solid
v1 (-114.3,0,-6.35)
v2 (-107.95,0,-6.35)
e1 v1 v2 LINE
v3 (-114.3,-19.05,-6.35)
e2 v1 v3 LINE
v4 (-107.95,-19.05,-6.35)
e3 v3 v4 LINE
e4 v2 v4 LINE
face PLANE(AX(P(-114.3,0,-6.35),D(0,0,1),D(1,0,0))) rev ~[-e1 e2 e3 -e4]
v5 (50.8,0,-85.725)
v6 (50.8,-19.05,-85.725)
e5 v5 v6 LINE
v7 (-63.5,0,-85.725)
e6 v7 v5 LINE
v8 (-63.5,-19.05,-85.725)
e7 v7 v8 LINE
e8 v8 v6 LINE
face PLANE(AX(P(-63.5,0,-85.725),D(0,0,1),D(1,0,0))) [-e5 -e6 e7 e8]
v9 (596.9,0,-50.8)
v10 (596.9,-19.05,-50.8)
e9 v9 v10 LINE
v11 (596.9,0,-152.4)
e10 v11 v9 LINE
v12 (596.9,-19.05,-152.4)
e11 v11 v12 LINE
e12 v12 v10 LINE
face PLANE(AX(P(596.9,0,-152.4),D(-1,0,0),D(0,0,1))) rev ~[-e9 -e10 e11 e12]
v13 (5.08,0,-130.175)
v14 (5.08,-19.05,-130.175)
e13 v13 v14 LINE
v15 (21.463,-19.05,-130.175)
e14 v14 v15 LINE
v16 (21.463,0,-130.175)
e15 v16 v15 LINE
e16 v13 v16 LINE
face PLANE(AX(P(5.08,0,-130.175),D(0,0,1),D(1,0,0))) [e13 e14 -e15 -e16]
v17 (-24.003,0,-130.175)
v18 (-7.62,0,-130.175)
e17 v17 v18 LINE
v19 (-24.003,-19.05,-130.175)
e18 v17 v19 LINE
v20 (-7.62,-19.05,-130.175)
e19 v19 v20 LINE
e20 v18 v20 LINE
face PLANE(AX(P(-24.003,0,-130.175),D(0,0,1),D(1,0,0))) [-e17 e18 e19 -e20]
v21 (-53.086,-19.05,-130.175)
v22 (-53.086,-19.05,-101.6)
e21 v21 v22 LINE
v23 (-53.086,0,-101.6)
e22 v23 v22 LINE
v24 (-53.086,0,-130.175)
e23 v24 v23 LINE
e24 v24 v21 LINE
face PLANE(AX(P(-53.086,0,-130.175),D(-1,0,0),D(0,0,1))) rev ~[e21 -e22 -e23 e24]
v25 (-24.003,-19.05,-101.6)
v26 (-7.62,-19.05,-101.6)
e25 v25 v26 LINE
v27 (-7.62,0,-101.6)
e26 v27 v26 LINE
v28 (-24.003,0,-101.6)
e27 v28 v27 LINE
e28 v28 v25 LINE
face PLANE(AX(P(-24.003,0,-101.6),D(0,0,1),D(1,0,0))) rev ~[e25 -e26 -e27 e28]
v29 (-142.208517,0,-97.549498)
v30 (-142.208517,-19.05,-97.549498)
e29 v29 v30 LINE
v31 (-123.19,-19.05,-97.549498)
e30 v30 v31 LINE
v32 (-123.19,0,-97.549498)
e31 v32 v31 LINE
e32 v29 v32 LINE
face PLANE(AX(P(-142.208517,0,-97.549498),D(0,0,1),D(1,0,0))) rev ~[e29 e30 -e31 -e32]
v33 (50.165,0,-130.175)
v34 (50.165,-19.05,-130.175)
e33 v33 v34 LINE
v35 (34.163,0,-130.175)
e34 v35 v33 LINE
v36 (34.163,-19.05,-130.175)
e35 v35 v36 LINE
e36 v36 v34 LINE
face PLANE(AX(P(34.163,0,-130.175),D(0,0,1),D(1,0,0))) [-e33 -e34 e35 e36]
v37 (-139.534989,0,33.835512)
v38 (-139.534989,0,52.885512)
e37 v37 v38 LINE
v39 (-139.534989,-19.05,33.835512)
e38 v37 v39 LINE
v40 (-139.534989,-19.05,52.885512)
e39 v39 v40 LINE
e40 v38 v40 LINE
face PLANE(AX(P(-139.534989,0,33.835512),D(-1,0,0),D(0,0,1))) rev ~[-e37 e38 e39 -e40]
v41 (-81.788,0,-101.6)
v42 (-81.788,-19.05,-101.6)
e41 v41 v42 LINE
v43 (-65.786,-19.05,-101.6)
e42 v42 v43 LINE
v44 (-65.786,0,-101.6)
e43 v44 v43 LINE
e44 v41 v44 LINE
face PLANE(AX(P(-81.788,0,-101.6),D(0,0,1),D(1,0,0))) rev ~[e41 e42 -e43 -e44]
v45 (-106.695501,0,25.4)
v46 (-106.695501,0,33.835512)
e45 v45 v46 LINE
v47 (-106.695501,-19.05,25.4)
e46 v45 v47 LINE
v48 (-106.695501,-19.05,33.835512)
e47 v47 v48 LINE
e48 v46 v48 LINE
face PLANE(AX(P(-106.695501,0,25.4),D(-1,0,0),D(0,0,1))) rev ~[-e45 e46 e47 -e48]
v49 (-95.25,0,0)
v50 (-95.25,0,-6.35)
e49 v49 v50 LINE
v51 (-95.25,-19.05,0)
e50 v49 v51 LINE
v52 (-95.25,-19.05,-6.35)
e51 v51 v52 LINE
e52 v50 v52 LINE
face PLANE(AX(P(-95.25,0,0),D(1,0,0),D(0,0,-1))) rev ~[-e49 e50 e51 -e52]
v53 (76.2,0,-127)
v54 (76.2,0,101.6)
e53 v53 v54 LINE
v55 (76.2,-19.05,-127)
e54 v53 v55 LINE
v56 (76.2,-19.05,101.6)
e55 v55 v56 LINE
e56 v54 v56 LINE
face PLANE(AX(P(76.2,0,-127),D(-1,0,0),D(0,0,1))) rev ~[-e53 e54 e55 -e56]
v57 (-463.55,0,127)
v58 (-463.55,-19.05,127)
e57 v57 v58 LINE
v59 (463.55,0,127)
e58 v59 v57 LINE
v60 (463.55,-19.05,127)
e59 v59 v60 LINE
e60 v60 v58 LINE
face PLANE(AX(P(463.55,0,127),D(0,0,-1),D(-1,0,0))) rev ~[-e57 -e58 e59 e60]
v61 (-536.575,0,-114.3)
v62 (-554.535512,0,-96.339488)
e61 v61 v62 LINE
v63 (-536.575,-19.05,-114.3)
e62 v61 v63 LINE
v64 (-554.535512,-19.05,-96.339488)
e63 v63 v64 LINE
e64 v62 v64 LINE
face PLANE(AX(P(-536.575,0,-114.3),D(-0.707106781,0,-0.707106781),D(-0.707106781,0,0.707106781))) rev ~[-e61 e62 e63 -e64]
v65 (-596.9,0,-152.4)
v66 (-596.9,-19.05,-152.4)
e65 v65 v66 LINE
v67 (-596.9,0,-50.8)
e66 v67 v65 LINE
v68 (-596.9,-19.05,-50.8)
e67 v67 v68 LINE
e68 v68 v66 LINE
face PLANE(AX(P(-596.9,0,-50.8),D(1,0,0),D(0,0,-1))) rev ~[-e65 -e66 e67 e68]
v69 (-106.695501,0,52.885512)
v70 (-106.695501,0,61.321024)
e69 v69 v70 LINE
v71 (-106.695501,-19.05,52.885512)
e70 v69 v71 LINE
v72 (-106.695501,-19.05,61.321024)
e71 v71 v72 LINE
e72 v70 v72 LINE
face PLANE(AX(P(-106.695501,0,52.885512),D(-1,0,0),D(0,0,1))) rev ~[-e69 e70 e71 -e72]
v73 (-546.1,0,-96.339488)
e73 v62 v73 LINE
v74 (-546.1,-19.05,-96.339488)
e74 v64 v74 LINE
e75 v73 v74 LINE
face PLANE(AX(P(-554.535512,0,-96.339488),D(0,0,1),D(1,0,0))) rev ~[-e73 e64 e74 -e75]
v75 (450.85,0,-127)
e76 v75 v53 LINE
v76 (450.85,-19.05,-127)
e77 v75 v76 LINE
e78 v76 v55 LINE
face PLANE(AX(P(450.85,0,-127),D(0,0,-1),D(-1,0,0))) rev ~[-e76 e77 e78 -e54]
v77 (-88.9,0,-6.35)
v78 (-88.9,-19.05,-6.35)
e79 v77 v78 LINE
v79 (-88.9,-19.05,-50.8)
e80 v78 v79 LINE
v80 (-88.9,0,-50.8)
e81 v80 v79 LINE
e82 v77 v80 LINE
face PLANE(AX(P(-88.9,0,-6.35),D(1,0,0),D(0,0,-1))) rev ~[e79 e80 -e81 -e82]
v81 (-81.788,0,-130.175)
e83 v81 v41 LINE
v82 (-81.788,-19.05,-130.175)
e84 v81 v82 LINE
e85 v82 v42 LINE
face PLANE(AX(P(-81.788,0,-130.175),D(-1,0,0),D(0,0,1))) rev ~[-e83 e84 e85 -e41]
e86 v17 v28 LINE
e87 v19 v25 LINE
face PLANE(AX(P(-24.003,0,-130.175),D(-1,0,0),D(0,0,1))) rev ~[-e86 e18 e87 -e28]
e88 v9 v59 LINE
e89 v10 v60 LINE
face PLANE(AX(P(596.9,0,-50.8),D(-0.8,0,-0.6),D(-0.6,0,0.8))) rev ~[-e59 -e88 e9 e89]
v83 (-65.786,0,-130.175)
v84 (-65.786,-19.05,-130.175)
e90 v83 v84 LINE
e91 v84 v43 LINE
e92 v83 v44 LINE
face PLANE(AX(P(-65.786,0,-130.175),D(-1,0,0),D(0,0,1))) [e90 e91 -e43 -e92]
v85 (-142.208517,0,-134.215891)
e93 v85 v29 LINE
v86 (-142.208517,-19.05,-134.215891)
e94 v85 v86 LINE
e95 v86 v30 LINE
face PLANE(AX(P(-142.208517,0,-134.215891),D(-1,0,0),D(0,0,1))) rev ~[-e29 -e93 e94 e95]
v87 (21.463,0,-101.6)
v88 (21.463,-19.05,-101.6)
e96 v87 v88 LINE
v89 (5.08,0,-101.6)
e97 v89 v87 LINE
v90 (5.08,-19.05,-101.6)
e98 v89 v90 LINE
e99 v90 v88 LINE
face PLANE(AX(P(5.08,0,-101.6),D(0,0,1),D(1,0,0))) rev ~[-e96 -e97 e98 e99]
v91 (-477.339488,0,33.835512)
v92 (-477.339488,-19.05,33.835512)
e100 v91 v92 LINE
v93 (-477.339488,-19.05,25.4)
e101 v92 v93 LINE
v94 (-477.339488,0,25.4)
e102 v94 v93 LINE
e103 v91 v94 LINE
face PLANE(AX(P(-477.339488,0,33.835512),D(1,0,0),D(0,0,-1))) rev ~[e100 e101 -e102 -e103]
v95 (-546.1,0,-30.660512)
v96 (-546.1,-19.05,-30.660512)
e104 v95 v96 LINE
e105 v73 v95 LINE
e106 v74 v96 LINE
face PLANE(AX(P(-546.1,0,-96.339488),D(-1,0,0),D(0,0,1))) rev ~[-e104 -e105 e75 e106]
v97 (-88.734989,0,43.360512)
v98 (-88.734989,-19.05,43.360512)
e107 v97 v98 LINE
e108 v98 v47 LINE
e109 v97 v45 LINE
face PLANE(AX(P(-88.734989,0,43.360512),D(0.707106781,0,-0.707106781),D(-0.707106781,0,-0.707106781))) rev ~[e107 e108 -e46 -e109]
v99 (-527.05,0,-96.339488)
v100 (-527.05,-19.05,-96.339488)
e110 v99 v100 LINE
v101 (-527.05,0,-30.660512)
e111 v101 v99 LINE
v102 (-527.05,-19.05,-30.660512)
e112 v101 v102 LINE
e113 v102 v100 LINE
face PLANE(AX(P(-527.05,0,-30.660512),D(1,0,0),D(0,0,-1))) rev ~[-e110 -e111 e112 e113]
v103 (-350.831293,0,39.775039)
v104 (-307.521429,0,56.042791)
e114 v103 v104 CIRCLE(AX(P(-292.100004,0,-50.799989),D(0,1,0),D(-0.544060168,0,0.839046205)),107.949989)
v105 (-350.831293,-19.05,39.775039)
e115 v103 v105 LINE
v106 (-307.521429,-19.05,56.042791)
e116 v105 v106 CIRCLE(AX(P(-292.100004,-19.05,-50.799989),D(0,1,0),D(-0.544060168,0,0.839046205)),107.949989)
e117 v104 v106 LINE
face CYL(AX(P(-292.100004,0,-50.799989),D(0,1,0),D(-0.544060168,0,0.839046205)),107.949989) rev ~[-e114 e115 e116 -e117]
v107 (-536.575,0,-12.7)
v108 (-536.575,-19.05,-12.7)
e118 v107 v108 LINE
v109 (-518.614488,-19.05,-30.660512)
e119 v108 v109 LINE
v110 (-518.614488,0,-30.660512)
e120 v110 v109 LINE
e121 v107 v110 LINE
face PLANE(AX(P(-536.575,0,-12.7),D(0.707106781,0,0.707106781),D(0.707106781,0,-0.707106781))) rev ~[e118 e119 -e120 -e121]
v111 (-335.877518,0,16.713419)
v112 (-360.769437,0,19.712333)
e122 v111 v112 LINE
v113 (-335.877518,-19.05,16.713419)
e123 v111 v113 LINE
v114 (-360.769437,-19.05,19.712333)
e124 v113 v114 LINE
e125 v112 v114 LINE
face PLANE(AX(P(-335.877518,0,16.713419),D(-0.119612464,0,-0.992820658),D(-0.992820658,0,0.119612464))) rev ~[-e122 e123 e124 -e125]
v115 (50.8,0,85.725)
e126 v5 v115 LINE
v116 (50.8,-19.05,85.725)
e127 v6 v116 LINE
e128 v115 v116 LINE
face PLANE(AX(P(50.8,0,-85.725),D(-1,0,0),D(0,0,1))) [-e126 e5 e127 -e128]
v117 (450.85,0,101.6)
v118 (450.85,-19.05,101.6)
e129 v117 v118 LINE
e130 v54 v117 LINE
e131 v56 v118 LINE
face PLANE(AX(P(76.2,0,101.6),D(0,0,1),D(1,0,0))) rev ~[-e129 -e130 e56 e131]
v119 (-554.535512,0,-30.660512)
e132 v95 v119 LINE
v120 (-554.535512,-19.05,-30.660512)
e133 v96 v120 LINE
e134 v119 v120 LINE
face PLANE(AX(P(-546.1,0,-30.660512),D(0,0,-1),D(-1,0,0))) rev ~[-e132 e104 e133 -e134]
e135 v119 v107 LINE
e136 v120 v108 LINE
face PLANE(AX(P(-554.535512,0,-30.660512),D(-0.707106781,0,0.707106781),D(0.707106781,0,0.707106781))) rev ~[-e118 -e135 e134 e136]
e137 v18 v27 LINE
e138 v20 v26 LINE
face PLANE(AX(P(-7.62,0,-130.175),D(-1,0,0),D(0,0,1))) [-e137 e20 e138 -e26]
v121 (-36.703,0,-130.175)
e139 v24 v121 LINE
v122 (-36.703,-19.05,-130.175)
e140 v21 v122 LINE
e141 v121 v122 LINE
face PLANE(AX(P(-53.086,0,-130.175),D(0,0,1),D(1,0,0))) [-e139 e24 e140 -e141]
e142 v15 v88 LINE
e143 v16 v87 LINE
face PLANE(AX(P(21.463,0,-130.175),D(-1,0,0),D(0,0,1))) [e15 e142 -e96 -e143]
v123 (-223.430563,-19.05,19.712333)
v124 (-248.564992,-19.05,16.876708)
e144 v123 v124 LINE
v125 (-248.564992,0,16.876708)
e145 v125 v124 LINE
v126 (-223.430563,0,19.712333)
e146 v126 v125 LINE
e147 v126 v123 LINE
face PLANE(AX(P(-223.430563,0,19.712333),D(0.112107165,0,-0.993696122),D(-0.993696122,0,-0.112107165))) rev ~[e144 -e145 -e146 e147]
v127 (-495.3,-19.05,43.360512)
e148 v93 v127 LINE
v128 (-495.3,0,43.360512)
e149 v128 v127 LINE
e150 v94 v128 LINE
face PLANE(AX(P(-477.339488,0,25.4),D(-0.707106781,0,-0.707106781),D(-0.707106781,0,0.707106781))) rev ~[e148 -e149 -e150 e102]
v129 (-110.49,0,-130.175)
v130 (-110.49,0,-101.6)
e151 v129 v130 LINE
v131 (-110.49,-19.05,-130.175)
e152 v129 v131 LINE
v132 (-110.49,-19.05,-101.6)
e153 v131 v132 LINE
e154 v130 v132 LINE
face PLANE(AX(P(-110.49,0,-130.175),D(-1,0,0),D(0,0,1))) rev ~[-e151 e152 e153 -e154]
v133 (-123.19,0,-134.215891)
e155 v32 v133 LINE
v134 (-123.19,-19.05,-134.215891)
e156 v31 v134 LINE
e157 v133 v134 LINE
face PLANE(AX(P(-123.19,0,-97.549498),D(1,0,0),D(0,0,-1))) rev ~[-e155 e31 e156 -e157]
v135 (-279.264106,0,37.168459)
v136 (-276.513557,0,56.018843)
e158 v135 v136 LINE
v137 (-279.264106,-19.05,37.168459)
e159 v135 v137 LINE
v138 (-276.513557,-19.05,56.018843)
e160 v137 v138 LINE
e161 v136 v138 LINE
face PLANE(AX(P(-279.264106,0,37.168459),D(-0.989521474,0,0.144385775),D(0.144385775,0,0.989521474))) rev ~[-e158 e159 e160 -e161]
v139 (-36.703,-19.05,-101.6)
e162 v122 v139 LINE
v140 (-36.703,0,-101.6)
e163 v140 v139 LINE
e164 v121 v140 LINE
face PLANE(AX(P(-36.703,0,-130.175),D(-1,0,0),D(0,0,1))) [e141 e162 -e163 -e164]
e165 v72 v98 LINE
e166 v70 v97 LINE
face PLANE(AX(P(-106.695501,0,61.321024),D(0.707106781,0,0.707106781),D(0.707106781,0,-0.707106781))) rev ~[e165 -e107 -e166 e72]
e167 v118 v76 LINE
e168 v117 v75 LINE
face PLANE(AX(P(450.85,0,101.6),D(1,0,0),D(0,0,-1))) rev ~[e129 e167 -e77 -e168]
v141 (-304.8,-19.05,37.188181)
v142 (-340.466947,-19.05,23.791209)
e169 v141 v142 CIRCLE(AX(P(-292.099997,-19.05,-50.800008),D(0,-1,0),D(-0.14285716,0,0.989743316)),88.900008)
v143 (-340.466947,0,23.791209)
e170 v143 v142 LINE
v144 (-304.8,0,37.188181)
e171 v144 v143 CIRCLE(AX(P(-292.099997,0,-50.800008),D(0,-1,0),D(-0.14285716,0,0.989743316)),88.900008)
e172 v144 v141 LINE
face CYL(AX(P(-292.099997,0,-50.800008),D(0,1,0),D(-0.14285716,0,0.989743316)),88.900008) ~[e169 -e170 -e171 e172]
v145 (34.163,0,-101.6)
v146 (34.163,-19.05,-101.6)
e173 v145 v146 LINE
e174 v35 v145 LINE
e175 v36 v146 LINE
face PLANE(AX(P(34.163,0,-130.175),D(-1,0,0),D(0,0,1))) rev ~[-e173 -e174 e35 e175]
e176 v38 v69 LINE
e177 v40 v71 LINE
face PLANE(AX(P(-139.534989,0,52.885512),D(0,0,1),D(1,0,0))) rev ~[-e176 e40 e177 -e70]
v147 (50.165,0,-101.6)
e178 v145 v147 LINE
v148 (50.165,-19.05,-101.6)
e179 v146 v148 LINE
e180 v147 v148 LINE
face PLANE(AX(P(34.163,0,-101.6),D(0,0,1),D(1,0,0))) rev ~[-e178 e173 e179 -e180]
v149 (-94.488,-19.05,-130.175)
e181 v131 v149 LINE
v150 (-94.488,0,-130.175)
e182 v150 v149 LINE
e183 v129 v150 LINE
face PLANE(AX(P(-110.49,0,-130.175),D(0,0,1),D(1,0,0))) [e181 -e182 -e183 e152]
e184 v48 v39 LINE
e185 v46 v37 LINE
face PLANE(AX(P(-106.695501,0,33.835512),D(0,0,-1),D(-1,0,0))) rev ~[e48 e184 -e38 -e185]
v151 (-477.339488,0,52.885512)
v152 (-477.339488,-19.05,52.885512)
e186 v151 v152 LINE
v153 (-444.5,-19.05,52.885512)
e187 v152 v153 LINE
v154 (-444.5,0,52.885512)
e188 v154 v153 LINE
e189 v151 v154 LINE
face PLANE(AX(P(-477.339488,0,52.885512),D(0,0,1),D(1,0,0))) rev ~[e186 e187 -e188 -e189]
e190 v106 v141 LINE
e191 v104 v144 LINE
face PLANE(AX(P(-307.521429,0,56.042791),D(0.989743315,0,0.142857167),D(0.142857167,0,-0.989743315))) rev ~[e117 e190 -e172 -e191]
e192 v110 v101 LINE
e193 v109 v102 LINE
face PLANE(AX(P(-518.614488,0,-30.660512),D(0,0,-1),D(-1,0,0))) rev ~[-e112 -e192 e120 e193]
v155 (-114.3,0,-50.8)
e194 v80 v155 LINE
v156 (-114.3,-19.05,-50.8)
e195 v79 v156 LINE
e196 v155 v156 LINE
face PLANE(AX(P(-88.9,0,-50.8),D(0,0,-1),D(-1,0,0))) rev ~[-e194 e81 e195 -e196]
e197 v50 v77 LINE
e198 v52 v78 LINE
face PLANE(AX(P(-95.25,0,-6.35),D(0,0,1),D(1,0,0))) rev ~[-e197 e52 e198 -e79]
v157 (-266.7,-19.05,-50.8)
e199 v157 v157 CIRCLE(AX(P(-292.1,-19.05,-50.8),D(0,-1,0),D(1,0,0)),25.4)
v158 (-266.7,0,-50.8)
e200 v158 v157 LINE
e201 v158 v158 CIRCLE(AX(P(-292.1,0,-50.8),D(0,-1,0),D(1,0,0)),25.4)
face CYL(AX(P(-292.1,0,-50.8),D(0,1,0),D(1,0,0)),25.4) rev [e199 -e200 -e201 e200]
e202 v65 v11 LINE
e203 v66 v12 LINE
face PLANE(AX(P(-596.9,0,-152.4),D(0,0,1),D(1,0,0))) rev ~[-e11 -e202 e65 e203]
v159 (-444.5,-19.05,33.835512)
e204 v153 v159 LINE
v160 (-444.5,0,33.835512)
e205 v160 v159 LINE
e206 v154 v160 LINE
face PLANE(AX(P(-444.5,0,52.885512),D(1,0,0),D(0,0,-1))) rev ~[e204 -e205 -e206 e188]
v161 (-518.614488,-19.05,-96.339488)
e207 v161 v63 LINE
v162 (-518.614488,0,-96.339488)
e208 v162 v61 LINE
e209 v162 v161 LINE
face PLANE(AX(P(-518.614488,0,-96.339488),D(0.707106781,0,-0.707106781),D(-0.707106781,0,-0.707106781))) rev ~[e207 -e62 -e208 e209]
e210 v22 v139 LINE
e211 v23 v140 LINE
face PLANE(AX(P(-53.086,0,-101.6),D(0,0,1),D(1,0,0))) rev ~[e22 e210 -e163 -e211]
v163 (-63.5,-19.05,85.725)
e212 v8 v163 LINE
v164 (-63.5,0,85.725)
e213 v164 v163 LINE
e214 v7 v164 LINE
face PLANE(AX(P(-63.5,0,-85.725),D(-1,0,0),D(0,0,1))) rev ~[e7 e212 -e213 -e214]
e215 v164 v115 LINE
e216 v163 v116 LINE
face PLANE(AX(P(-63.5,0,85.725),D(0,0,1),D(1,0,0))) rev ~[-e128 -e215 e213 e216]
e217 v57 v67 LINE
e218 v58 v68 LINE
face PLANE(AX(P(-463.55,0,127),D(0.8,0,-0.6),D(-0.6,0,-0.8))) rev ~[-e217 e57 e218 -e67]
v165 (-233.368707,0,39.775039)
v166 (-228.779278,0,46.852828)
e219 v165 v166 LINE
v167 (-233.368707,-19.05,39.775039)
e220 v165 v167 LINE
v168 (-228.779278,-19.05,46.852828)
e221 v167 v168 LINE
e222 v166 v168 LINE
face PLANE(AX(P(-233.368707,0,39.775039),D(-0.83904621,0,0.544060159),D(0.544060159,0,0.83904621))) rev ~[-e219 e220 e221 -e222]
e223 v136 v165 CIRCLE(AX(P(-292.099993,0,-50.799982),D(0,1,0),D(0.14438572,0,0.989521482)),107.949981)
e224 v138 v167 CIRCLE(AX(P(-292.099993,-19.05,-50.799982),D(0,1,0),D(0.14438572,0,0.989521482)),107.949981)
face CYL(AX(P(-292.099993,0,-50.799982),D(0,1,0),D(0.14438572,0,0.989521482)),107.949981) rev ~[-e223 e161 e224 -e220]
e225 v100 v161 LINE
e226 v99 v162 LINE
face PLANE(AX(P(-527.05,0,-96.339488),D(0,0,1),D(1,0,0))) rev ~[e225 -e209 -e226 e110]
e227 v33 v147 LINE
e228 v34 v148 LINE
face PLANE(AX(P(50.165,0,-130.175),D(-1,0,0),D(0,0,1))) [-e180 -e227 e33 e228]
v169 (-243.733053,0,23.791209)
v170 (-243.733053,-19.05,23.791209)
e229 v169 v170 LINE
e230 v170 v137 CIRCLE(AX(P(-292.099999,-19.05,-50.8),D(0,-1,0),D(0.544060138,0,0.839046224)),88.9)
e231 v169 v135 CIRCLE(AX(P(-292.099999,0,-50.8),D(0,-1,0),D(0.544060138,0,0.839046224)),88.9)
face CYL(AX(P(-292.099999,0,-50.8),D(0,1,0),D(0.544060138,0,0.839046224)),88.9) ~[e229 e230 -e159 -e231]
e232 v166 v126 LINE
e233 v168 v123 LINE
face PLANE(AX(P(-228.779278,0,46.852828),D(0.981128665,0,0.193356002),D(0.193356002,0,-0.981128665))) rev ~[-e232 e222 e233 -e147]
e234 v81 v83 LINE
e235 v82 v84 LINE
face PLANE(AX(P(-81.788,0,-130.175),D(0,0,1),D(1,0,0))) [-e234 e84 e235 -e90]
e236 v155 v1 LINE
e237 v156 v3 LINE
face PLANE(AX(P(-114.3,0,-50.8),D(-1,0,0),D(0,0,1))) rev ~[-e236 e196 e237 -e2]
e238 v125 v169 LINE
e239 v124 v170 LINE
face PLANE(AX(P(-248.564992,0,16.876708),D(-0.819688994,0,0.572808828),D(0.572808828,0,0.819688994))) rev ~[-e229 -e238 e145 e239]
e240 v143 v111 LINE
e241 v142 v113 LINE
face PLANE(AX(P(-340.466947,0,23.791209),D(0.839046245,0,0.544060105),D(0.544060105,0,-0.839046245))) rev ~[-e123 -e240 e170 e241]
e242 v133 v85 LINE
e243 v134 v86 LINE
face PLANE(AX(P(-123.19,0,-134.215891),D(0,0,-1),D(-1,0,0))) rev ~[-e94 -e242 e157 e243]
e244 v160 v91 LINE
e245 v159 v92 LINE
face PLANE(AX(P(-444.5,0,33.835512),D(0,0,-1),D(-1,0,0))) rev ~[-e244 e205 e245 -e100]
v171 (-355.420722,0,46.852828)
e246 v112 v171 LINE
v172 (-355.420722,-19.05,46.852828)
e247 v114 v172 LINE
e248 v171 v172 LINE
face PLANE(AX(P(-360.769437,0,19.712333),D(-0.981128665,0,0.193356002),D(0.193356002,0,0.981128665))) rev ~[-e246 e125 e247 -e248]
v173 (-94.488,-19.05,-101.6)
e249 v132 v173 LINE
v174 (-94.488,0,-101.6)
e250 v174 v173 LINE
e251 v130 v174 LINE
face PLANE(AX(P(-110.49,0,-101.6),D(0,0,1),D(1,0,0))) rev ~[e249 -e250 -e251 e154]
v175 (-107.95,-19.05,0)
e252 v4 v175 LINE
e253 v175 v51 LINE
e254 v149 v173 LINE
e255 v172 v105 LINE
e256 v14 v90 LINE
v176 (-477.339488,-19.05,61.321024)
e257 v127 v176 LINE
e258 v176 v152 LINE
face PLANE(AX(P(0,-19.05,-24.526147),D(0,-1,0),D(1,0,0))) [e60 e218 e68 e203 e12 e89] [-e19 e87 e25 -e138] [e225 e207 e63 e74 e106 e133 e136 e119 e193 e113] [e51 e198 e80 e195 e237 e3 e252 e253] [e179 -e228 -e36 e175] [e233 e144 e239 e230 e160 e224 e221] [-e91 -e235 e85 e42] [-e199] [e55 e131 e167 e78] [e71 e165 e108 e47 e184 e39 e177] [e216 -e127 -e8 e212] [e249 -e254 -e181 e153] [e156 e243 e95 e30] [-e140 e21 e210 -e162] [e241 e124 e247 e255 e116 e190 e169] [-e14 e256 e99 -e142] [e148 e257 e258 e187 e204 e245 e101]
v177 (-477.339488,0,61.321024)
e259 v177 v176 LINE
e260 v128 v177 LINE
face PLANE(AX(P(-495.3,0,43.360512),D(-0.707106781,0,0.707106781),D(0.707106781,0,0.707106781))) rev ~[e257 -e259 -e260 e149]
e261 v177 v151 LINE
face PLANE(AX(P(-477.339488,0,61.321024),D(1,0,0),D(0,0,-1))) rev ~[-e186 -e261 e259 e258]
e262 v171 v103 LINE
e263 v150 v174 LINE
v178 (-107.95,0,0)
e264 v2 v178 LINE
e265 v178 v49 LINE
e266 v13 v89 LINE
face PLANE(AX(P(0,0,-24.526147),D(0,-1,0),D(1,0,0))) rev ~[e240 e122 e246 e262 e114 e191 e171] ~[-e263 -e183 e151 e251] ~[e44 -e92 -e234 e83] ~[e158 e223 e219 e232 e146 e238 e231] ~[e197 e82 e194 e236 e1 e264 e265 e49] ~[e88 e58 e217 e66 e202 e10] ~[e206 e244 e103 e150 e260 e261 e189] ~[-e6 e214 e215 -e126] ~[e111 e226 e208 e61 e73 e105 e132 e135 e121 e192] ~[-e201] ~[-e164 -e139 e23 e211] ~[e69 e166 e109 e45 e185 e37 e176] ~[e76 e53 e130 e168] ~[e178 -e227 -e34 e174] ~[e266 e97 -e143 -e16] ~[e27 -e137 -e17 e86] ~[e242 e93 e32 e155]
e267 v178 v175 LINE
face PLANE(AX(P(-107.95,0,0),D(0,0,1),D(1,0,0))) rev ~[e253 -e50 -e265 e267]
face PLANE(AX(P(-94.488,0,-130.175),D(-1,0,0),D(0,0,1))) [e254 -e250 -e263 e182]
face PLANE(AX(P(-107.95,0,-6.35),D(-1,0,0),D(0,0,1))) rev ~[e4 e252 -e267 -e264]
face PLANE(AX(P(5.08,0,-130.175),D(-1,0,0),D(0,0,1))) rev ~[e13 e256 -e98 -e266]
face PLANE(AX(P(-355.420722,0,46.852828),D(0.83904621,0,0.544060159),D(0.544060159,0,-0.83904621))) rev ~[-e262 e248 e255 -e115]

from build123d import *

# Parameters (mm, degrees)
F0_W     = 16.002
F0_H     = 28.575
F0_W_2   = 16.383
F0_R     = 25.4
F0_W_3   = 114.3
F0_H_2   = 171.45
F1_DEPTH = 19.05


with BuildPart() as f1:
    # F0 (on Front) → F1 (new body)
    with BuildSketch(Plane.XZ):
        Polygon((-596.9, -50.8), (-596.9, -127), (-596.9, -152.4), (596.9, -152.4), (596.9, -127), (596.9, -50.8), (463.55, 127), (-463.55, 127), align=None)
        Polygon((-123.19, -97.549498), (-123.19, -101.6), (-123.19, -115.8875), (-123.19, -130.175), (-123.19, -134.215891), (-142.208517, -134.215891), (-142.208517, -97.549498), align=None, mode=Mode.SUBTRACT)
        with Locations((-102.489, -115.8875)):
            Rectangle(F0_W, F0_H, mode=Mode.SUBTRACT)
        with Locations((-73.787, -115.8875)):
            Rectangle(F0_W, F0_H, mode=Mode.SUBTRACT)
        with Locations((-44.8945, -115.8875)):
            Rectangle(F0_W_2, F0_H, mode=Mode.SUBTRACT)
        with Locations((-15.8115, -115.8875)):
            Rectangle(F0_W_2, F0_H, mode=Mode.SUBTRACT)
        Polygon((-518.614488, -96.339488), (-536.575, -114.3), (-554.535512, -96.339488), (-546.1, -96.339488), (-546.1, -63.5), (-546.1, -30.660512), (-554.535512, -30.660512), (-536.575, -12.7), (-518.614488, -30.660512), (-527.05, -30.660512), (-527.05, -63.5), (-527.05, -96.339488), align=None, mode=Mode.SUBTRACT)
        with Locations((-292.1, -50.8)):
            Circle(F0_R, mode=Mode.SUBTRACT)
        Polygon((-88.9, -50.8), (-114.3, -50.8), (-114.3, -6.35), (-107.95, -6.35), (-107.95, 0), (-95.25, 0), (-95.25, -6.35), (-88.9, -6.35), align=None, mode=Mode.SUBTRACT)
        with Locations((13.2715, -115.8875)):
            Rectangle(F0_W_2, F0_H, mode=Mode.SUBTRACT)
        with Locations((42.164, -115.8875)):
            Rectangle(F0_W, F0_H, mode=Mode.SUBTRACT)
        Polygon((450.85, -127), (76.2, -127), (76.2, 101.6), (450.85, 101.6), (450.85, 0), align=None, mode=Mode.SUBTRACT)
        Polygon((-477.339488, 52.885512), (-444.5, 52.885512), (-444.5, 33.835512), (-477.339488, 33.835512), (-477.339488, 25.4), (-495.3, 43.360512), (-477.339488, 61.321024), align=None, mode=Mode.SUBTRACT)
        with BuildLine():
            ThreePointArc((-350.831293, 39.775039), (-330.058088, 50.256351), (-307.521429, 56.042791))
            Line((-307.521429, 56.042791), (-304.8, 37.188181))
            ThreePointArc((-304.8, 37.188181), (-323.359602, 32.422877), (-340.466947, 23.791209))
            Line((-340.466947, 23.791209), (-335.877518, 16.713419))
            Line((-335.877518, 16.713419), (-360.769437, 19.712333))
            Line((-360.769437, 19.712333), (-355.420722, 46.852828))
            Line((-355.420722, 46.852828), (-350.831293, 39.775039))
        make_face(mode=Mode.SUBTRACT)
        with Locations((-6.35, 0)):
            Rectangle(F0_W_3, F0_H_2, mode=Mode.SUBTRACT)
        with BuildLine():
            Line((-279.264106, 37.168459), (-276.513557, 56.018843))
            ThreePointArc((-276.513557, 56.018843), (-254.063875, 50.227005), (-233.368707, 39.775039))
            Line((-233.368707, 39.775039), (-228.779278, 46.852828))
            Line((-228.779278, 46.852828), (-223.430563, 19.712333))
            Line((-223.430563, 19.712333), (-248.564992, 16.876708))
            Line((-248.564992, 16.876708), (-243.733053, 23.791209))
            ThreePointArc((-243.733053, 23.791209), (-260.776133, 32.39871), (-279.264106, 37.168459))
        make_face(mode=Mode.SUBTRACT)
        Polygon((-139.534989, 33.835512), (-139.534989, 52.885512), (-106.695501, 52.885512), (-106.695501, 61.321024), (-88.734989, 43.360512), (-106.695501, 25.4), (-106.695501, 33.835512), align=None, mode=Mode.SUBTRACT)
    extrude(amount=F1_DEPTH)


solid = f1.part
